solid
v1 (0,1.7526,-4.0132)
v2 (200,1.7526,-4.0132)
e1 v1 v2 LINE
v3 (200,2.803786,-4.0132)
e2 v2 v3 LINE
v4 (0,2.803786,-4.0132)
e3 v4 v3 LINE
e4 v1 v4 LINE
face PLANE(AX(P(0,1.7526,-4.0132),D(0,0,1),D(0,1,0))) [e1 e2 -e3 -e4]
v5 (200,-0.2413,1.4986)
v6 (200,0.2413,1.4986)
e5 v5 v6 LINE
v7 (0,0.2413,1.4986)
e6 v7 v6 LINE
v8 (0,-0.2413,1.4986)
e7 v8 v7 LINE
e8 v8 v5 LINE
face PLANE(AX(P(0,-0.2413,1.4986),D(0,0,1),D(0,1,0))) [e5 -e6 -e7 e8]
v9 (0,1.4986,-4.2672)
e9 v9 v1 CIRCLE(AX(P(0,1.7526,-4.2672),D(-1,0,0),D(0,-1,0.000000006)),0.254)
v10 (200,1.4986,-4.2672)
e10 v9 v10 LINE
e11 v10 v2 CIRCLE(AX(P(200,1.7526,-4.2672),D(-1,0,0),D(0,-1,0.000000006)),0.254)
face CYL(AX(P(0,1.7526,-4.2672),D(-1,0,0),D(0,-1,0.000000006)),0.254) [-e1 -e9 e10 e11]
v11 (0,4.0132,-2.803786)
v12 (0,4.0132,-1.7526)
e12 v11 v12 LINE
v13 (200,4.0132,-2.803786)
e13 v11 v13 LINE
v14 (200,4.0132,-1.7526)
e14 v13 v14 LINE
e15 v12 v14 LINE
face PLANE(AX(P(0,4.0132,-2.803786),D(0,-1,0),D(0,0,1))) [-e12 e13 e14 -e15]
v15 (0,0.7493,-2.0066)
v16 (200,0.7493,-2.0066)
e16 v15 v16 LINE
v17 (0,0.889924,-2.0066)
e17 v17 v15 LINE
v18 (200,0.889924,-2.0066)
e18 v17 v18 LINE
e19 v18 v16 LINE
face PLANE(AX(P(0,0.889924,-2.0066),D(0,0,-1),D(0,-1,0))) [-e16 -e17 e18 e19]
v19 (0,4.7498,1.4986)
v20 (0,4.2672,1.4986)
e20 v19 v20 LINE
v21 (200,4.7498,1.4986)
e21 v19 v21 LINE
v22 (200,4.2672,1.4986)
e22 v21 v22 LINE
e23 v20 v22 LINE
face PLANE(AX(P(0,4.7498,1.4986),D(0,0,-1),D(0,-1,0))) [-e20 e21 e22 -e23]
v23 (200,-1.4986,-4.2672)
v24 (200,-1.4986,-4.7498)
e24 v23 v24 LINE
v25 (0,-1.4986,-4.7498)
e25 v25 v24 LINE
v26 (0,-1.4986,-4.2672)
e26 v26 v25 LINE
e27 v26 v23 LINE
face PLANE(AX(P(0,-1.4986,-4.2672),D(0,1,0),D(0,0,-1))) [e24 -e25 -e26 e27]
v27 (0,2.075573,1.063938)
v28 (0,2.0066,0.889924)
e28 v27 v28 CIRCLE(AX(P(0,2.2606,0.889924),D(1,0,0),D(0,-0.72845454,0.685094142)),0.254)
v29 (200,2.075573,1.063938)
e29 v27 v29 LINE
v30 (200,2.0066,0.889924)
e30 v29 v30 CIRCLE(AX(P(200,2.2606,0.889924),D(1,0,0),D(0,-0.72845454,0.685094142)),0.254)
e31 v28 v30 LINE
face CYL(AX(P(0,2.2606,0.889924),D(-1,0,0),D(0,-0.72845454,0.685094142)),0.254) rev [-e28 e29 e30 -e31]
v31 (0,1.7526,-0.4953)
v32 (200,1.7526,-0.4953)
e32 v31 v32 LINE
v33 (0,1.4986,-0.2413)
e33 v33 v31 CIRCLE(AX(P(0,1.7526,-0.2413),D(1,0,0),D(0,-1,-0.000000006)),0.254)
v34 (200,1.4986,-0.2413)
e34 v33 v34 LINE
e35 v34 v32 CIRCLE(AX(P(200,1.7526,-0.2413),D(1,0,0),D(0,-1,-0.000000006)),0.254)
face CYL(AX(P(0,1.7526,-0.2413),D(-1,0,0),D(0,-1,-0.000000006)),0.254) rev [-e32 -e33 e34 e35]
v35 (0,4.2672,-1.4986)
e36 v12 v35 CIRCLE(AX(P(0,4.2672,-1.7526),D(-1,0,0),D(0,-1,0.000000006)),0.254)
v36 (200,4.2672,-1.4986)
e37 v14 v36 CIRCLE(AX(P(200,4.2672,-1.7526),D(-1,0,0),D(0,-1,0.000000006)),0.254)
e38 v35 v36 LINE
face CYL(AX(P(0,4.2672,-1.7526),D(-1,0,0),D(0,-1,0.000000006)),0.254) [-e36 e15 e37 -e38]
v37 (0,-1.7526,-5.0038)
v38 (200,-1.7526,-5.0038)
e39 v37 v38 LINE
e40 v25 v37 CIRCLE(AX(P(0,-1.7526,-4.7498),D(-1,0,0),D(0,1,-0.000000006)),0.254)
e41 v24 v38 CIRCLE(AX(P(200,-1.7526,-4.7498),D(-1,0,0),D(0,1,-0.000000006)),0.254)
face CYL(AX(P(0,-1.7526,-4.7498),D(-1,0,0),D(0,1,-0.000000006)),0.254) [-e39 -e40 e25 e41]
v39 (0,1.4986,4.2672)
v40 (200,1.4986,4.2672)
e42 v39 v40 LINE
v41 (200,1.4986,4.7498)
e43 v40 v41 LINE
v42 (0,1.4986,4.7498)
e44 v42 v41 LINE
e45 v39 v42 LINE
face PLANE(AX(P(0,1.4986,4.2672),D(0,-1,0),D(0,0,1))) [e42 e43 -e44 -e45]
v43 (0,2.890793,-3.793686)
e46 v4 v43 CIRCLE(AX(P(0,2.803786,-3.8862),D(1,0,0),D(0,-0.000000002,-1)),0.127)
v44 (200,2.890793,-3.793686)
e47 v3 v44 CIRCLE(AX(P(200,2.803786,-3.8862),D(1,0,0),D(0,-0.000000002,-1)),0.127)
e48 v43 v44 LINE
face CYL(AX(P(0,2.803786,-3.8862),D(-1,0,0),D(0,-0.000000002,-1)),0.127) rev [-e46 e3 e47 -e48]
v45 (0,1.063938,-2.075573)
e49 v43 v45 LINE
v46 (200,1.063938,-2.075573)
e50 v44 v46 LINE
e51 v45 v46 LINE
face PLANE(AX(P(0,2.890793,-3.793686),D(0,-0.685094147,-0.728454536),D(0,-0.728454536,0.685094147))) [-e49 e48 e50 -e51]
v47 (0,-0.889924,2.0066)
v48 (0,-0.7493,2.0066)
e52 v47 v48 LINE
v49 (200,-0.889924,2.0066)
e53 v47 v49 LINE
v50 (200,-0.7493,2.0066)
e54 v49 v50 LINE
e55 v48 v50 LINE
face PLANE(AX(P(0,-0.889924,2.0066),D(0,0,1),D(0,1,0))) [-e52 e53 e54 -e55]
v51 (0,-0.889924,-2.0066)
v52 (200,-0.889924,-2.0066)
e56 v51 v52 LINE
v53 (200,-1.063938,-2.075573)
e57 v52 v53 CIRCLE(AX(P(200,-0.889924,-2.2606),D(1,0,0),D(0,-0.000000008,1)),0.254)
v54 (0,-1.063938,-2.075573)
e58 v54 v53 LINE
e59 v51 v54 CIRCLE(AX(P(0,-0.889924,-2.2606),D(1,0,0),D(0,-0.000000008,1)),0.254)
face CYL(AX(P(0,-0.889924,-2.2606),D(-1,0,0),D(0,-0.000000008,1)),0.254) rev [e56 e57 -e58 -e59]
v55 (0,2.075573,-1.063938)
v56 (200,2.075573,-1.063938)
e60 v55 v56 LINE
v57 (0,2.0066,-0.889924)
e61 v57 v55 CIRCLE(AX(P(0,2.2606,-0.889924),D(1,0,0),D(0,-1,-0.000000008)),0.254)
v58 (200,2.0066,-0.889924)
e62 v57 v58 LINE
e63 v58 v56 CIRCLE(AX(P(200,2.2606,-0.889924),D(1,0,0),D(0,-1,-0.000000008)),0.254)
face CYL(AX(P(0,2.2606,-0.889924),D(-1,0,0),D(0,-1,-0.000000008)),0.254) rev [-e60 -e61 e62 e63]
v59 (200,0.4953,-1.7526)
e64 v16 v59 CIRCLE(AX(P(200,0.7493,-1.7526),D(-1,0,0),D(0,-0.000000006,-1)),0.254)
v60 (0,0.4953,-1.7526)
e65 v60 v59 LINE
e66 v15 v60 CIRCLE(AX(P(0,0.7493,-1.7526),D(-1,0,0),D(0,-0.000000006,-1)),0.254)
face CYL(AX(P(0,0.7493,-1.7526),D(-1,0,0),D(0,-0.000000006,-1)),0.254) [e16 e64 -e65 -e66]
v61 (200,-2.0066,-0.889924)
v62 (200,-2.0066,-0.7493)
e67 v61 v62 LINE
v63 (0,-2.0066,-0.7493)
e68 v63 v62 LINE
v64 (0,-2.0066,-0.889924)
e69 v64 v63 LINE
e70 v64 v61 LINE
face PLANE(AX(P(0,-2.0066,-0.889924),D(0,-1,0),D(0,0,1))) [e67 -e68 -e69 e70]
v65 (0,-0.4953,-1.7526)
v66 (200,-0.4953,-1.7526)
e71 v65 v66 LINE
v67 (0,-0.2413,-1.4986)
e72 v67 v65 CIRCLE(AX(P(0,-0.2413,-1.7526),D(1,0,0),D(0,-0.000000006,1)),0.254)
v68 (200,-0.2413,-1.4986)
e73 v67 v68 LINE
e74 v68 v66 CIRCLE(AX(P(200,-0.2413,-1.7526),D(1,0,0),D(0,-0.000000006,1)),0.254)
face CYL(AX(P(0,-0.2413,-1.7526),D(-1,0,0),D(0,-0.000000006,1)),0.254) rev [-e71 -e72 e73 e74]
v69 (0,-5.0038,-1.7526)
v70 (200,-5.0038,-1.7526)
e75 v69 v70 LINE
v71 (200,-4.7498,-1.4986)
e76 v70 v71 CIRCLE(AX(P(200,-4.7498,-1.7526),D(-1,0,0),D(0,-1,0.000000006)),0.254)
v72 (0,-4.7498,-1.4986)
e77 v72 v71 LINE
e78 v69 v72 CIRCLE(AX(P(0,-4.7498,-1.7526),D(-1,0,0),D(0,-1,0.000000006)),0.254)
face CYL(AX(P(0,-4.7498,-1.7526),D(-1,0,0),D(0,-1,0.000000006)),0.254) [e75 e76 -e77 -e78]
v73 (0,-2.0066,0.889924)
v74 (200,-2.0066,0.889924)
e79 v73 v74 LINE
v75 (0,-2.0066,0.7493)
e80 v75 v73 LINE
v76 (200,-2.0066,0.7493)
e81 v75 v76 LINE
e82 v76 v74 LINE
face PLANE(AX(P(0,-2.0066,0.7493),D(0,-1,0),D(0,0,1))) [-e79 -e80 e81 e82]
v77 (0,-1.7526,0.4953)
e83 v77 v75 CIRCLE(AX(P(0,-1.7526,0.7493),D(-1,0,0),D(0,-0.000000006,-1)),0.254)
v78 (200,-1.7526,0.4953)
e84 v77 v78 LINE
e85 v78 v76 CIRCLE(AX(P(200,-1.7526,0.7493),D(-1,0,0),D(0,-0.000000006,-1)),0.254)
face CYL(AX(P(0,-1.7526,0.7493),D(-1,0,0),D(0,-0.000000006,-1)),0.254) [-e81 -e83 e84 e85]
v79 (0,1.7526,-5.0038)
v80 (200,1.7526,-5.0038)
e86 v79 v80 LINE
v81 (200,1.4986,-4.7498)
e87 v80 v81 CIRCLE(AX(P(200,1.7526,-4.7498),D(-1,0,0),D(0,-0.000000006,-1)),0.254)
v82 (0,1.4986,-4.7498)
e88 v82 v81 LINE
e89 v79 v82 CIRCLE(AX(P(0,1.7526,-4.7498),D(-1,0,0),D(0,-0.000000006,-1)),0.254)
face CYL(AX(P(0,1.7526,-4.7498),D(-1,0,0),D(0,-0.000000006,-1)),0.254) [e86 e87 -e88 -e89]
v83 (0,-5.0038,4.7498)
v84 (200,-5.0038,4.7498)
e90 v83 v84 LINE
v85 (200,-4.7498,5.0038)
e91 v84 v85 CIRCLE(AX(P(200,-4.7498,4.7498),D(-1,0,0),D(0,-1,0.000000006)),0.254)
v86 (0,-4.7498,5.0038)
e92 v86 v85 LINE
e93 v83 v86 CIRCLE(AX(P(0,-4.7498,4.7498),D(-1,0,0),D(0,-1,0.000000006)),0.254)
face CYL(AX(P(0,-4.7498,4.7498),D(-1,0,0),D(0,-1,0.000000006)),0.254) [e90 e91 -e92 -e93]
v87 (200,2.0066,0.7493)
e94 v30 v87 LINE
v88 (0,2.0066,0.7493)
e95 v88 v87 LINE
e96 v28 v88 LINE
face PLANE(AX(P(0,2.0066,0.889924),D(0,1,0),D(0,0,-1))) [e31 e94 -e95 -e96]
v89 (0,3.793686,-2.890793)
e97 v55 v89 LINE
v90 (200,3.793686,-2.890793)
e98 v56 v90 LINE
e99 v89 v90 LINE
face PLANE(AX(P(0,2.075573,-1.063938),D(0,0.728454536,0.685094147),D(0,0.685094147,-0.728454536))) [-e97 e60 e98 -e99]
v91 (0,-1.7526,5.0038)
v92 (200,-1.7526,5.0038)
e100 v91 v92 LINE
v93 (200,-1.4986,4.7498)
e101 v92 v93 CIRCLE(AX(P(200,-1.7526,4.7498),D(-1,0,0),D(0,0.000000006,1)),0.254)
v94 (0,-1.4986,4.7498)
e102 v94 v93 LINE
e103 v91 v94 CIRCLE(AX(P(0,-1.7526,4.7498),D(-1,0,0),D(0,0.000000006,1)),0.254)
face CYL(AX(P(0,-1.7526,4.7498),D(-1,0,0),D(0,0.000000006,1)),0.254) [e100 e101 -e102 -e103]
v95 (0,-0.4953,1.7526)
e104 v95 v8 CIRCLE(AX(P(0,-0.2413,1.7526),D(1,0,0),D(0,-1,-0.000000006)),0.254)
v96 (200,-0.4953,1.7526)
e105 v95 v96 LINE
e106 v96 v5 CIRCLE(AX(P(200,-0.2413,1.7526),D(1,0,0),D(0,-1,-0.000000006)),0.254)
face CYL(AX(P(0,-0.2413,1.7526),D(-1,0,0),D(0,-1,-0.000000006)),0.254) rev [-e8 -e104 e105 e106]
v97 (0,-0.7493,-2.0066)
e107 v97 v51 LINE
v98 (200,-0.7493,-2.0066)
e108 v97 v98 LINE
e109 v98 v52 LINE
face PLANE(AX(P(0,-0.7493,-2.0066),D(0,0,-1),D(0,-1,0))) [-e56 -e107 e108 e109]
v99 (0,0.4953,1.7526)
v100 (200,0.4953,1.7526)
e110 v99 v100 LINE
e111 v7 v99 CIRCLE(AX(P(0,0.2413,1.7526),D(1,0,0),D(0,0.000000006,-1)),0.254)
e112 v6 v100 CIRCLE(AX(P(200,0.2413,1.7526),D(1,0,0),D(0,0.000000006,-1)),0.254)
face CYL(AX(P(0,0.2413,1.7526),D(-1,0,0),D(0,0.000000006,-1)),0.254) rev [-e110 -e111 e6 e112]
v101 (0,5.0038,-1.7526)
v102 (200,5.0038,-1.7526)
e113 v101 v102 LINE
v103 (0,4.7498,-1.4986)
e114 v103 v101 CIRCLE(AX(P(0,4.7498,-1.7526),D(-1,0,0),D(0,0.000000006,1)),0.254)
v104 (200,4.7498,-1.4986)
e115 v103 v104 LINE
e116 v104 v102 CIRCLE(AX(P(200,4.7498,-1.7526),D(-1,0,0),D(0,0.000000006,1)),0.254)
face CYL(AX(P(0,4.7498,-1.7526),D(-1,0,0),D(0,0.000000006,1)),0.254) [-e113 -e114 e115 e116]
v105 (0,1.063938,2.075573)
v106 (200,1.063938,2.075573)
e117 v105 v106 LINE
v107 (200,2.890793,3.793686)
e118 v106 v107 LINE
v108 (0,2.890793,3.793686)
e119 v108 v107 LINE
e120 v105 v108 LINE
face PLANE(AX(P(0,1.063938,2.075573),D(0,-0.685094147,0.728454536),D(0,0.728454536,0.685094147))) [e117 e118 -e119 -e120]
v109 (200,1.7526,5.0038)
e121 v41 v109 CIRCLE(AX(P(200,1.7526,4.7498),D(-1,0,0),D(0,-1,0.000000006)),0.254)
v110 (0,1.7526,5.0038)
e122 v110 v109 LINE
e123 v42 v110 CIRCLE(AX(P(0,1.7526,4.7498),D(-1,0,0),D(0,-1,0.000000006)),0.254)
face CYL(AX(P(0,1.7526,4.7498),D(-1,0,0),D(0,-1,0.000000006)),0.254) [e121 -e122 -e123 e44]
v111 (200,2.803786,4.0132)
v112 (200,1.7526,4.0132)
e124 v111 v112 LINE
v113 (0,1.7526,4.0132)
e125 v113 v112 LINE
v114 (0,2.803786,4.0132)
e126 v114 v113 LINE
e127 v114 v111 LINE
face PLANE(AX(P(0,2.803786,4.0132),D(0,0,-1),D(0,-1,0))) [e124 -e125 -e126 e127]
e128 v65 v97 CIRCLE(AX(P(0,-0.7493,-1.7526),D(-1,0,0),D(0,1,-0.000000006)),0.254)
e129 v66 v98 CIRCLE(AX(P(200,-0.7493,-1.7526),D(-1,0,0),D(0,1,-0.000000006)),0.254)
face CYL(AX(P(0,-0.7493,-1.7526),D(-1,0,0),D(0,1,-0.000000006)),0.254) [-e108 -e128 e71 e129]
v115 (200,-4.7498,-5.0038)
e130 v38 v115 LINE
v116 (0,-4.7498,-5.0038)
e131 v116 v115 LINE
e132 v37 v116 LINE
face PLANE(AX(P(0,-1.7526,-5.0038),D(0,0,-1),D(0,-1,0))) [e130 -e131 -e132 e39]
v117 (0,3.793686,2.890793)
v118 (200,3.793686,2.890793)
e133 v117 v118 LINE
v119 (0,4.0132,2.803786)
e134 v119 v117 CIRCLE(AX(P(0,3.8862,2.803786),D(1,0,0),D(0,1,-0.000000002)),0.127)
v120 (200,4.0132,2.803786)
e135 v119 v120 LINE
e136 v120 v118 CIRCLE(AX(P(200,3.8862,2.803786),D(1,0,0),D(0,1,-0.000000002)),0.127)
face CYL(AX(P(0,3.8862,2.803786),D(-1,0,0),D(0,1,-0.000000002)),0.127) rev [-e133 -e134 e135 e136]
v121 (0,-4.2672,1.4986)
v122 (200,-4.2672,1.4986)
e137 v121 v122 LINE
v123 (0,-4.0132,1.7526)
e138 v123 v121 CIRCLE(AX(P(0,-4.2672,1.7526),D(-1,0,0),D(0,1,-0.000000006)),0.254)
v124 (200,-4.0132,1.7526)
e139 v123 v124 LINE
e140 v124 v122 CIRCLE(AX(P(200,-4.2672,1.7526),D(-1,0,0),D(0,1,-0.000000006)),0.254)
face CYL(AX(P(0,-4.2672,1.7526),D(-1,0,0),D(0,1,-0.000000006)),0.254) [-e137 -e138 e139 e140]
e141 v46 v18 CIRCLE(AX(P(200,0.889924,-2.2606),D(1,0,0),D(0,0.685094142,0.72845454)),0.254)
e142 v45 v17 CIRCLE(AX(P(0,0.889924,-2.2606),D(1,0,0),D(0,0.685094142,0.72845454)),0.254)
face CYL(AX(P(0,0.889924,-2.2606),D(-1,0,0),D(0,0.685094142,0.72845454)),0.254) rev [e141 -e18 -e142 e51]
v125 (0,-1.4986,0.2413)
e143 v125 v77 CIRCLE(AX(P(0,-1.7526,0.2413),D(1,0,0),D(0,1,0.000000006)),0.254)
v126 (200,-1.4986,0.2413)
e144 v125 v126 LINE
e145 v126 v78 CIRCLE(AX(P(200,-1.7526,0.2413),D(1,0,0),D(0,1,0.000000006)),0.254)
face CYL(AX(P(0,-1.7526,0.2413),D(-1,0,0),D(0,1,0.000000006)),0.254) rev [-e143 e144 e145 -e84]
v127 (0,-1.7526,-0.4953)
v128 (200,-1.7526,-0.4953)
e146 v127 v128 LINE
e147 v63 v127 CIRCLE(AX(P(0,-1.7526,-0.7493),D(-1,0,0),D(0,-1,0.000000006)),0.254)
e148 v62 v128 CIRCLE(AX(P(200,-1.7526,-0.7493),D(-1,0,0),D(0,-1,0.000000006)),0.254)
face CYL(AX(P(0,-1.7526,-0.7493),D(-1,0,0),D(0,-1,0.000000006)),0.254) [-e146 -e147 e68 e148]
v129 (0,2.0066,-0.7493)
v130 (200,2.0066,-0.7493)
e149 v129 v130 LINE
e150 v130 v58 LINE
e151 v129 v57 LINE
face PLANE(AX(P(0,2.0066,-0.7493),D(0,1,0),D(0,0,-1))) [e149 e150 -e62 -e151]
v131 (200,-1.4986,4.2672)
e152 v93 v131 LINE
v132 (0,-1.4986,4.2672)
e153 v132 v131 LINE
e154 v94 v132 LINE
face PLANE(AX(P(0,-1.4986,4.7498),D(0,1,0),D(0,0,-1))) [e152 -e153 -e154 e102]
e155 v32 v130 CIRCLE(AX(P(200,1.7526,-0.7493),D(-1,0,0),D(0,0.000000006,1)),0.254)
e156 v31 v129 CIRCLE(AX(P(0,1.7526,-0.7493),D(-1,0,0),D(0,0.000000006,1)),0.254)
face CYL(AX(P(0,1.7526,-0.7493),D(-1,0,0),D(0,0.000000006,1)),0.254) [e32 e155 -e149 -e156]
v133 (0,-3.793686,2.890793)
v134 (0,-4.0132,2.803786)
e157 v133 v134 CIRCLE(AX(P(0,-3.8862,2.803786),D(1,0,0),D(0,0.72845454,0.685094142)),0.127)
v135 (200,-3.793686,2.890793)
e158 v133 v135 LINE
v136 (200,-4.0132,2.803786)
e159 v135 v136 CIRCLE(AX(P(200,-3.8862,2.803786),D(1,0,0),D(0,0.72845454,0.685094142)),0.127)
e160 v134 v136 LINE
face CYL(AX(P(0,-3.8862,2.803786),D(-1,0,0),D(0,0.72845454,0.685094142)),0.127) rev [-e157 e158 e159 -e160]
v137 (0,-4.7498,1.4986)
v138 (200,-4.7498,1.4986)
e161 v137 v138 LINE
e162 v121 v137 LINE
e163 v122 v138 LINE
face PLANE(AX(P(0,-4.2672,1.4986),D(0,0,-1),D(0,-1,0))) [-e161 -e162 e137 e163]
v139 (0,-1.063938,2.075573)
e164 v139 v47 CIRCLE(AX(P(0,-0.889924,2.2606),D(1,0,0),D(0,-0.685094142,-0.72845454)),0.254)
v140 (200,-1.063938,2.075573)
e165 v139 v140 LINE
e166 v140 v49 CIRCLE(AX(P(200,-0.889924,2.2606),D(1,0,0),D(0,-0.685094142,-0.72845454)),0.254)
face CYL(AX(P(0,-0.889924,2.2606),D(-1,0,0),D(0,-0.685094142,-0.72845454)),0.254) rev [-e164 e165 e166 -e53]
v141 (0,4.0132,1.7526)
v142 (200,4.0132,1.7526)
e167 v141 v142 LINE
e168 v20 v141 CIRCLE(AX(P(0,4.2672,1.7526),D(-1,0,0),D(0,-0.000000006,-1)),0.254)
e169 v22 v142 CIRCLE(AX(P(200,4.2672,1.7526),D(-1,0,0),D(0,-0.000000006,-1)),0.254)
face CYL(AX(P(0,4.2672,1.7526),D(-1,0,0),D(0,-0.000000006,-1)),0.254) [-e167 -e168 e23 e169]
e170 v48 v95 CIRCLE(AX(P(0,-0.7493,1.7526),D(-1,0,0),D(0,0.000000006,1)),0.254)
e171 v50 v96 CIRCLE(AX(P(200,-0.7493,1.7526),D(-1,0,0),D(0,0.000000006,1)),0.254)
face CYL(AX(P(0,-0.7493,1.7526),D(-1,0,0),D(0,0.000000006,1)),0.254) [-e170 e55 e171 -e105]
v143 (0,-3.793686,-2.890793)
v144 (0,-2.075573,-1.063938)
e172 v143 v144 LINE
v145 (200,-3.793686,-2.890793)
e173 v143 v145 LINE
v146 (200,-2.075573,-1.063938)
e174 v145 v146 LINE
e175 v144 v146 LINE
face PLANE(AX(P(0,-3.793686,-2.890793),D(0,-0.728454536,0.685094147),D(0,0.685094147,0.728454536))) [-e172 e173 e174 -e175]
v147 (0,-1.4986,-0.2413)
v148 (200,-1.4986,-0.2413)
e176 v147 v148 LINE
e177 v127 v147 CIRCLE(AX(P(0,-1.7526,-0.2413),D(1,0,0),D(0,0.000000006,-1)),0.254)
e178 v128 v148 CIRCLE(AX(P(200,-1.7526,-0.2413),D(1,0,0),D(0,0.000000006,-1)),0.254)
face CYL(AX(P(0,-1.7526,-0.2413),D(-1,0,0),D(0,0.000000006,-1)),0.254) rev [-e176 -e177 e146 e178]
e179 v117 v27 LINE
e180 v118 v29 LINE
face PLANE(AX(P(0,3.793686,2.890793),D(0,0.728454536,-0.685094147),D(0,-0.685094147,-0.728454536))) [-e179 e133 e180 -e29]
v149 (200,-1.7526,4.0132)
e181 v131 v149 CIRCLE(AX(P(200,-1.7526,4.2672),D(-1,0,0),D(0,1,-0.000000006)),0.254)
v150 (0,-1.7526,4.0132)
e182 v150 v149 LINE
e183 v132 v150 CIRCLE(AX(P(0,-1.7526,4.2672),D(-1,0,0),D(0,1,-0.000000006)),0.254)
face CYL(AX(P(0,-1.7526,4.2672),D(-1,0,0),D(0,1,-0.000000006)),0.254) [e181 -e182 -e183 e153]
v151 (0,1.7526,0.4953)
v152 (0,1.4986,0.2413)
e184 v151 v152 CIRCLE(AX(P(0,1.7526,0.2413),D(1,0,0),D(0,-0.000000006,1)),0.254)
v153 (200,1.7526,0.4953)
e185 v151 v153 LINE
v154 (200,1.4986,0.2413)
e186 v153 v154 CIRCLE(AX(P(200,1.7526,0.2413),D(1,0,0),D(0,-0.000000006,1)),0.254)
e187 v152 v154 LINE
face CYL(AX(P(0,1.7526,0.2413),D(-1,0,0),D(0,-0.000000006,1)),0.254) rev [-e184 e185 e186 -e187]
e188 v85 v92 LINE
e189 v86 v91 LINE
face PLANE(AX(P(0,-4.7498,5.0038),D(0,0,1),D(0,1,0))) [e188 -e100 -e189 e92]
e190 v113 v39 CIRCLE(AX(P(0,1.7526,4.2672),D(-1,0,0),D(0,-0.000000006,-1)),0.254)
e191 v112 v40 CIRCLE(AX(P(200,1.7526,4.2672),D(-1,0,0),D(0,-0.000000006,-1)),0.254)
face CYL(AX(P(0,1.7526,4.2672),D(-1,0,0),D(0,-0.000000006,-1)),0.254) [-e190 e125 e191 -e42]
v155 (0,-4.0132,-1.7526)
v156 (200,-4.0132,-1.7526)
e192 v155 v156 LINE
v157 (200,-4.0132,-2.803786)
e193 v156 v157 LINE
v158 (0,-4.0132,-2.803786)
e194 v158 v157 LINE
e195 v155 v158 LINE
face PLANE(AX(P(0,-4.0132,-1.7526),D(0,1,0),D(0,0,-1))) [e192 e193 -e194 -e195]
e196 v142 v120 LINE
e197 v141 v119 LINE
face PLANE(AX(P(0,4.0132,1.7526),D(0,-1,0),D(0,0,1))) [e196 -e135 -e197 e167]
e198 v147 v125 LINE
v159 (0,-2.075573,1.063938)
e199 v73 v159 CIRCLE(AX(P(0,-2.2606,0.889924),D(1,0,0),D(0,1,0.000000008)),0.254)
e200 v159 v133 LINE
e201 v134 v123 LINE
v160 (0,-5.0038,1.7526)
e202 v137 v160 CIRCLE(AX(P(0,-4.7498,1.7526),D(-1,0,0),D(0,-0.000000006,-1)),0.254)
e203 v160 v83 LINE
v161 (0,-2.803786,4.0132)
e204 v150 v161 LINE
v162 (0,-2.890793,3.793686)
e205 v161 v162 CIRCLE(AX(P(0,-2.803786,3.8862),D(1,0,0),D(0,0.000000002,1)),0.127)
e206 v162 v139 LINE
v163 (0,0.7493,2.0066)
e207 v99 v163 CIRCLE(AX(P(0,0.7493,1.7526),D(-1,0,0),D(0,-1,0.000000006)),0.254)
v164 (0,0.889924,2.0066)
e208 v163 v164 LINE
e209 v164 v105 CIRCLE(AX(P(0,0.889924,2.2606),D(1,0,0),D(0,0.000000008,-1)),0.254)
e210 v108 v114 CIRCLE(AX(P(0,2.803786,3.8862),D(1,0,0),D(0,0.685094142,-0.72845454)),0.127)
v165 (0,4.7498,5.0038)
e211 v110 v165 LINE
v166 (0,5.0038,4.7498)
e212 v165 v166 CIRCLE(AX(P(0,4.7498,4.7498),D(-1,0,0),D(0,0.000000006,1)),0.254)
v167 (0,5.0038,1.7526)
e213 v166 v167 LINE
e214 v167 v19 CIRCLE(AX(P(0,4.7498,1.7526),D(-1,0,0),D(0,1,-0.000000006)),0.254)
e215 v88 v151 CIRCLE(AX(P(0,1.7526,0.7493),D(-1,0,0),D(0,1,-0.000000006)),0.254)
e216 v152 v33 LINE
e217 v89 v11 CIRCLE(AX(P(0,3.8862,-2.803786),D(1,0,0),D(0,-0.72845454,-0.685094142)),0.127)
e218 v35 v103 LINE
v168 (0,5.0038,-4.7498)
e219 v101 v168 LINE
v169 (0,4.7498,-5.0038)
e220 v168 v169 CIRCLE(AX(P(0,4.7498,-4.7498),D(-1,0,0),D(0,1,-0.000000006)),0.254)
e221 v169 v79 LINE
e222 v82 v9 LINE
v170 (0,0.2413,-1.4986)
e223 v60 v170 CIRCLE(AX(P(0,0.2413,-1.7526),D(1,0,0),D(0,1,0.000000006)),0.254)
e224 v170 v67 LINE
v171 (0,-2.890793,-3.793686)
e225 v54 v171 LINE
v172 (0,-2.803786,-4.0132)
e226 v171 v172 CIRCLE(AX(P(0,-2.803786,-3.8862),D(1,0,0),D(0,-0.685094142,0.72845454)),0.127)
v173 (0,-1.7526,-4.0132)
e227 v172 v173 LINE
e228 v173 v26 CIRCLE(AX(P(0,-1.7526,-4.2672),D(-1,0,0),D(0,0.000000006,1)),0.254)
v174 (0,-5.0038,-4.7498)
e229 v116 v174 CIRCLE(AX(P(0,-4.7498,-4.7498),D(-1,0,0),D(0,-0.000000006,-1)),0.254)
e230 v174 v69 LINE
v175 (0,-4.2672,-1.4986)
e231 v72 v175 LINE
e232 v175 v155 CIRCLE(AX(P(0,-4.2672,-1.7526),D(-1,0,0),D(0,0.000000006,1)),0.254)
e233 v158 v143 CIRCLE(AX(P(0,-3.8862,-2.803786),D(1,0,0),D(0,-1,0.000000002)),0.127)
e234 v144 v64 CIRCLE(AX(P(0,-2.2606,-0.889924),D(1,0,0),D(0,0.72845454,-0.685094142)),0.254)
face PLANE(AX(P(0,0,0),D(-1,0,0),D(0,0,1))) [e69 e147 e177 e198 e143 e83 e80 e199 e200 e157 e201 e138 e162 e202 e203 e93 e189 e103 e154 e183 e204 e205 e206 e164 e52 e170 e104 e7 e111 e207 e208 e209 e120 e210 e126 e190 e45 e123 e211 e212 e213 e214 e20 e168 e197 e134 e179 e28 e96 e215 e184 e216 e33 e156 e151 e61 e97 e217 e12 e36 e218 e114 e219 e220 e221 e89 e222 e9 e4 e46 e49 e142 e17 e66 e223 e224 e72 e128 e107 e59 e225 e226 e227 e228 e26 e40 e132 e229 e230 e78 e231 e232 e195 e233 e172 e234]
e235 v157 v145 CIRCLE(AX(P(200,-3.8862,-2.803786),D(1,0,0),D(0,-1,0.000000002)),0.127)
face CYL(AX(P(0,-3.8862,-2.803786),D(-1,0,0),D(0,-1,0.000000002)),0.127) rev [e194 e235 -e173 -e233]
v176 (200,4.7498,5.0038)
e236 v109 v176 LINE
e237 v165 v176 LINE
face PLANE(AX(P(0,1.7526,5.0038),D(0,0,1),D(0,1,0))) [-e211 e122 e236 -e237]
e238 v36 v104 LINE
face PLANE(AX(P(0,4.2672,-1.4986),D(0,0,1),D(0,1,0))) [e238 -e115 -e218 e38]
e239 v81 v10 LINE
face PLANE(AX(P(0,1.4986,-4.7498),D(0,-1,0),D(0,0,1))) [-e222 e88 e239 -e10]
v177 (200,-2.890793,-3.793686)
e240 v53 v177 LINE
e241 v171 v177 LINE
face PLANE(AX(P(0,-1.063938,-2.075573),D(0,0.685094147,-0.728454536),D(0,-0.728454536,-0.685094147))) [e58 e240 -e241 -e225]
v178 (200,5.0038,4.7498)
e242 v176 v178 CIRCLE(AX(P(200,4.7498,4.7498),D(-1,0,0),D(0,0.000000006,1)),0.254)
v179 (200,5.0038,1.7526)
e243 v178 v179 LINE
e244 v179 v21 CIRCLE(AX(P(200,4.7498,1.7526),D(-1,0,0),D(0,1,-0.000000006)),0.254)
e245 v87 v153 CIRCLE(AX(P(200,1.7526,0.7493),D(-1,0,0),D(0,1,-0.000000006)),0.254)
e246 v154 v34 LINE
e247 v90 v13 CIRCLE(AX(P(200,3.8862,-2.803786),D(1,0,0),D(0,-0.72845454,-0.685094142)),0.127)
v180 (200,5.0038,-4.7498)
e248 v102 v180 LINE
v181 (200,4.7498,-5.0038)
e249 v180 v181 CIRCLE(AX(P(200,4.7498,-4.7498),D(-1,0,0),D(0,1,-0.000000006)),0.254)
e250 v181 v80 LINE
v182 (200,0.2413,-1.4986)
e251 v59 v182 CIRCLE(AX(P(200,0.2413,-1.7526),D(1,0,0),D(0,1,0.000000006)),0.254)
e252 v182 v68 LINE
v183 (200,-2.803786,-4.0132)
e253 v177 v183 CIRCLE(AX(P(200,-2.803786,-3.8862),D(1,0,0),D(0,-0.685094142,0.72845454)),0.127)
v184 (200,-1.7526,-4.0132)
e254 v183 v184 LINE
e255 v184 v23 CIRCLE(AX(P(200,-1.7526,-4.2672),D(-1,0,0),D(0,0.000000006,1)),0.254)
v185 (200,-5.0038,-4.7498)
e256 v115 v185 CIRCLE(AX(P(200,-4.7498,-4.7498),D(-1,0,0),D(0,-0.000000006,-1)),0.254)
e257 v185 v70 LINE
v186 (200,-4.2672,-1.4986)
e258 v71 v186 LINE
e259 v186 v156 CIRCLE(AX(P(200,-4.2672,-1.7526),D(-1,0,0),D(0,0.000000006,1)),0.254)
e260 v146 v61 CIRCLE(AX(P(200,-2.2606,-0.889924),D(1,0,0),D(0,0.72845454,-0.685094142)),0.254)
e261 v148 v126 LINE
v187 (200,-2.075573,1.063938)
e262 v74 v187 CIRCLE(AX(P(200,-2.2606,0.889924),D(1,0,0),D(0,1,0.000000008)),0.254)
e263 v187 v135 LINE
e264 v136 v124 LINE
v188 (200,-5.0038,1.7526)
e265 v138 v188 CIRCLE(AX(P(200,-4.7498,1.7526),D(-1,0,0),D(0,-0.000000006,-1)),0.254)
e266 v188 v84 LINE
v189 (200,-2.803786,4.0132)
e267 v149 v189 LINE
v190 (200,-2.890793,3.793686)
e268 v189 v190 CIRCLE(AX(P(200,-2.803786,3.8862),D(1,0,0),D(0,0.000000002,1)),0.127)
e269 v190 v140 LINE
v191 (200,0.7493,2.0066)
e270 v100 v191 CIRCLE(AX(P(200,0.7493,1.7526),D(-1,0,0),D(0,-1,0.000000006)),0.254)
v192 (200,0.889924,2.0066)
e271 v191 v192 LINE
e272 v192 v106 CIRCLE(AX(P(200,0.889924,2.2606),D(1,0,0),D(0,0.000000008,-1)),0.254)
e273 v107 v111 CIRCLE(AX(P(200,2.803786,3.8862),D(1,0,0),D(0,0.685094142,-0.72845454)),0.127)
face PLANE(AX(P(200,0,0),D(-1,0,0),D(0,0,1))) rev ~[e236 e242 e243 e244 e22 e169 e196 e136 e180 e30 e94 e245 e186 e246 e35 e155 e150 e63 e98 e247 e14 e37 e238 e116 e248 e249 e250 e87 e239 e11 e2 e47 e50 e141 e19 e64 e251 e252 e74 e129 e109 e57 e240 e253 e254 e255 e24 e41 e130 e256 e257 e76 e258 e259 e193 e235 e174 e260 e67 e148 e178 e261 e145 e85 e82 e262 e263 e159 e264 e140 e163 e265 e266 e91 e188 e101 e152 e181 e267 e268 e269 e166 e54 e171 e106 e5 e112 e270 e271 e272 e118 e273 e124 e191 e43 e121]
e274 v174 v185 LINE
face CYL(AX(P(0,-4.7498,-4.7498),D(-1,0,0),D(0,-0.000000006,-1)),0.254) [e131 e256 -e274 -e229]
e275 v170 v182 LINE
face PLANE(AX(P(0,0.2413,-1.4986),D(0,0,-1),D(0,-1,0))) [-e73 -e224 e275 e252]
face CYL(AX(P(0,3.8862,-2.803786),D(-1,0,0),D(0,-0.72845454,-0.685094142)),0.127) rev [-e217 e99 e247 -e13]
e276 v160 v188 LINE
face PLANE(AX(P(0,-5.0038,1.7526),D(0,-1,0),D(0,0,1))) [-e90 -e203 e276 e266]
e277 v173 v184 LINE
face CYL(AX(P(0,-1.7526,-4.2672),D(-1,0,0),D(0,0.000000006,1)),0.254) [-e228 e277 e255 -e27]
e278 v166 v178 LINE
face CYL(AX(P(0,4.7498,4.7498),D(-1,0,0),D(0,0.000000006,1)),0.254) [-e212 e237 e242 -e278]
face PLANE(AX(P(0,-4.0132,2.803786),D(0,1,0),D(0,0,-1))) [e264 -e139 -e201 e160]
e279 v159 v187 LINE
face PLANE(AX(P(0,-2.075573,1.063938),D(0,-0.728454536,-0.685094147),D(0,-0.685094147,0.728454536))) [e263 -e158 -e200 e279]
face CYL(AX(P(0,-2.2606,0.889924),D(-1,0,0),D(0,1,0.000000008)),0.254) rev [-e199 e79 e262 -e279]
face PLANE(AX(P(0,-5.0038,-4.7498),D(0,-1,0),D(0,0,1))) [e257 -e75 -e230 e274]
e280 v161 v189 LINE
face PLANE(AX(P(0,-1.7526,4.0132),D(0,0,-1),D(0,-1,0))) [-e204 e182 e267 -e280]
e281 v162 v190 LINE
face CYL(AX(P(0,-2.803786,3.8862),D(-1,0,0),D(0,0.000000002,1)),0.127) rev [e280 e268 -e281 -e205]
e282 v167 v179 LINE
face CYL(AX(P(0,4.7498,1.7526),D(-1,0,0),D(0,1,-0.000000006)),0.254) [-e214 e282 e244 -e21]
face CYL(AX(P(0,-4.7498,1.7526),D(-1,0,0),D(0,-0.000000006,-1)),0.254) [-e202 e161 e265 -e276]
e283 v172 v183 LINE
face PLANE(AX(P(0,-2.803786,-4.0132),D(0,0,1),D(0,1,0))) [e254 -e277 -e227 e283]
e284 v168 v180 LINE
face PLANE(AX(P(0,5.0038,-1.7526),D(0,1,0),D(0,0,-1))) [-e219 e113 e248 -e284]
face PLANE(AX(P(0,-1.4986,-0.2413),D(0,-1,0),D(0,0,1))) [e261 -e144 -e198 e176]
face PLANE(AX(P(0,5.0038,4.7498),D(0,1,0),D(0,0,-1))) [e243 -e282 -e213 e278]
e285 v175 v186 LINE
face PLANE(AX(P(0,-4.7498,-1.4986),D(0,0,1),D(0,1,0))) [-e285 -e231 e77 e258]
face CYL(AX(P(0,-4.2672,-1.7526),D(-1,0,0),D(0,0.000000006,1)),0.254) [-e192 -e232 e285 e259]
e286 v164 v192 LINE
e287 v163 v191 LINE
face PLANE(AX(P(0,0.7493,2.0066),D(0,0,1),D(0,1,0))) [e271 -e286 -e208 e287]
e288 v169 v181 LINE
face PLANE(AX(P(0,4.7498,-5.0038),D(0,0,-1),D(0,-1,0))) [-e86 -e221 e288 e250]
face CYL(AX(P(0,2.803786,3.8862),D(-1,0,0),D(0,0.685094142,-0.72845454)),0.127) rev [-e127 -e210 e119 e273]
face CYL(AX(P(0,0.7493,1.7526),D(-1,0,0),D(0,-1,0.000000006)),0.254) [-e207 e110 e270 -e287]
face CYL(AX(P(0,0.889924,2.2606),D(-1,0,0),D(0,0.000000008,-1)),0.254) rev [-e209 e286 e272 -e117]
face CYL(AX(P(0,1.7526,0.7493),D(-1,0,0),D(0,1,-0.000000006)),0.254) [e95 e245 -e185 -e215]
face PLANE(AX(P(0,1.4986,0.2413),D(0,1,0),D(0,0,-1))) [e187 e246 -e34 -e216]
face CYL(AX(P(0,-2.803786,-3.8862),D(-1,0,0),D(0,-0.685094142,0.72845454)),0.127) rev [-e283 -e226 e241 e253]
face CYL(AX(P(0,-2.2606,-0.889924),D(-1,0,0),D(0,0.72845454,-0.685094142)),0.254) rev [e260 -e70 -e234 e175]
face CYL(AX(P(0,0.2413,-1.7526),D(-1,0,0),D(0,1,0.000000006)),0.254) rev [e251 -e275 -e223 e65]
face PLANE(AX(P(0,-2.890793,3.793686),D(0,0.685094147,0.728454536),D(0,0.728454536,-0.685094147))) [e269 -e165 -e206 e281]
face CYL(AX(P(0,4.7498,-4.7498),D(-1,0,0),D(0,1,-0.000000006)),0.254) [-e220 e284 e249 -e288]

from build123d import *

# Parameters (mm, degrees)
BOSS_EXTRU_1_DEPTH = 200


with BuildPart() as part:
    # Sketch1 → Boss.-Extru.1 (new body)
    with BuildSketch(Plane(origin=(0, 0, 0), x_dir=(0, 0, -1), z_dir=(1, 0, 0))):
        with BuildLine():
            Line((-0.2413, 1.4986), (0.2413, 1.4986))
            ThreePointArc((0.2413, 1.4986), (0.420905122, 1.572994878), (0.4953, 1.7526))
            ThreePointArc((0.4953, 1.7526), (0.569694878, 1.932205122), (0.7493, 2.0066))
            Line((0.7493, 2.0066), (0.889923986, 2.0066))
            ThreePointArc((0.889923986, 2.0066), (0.983516259, 2.024471886), (1.063937899, 2.075572548))
            Line((1.063937899, 2.075572548), (2.890793, 3.793686274))
            ThreePointArc((2.890793, 3.793686274), (2.921850101, 3.932996137), (2.803786044, 4.0132))
            Line((2.803786044, 4.0132), (1.7526, 4.0132))
            ThreePointArc((1.7526, 4.0132), (1.572994878, 4.087594878), (1.4986, 4.2672))
            Line((1.4986, 4.2672), (1.4986, 4.7498))
            ThreePointArc((1.4986, 4.7498), (1.572994878, 4.929405122), (1.7526, 5.0038))
            Line((1.7526, 5.0038), (4.7498, 5.0038))
            ThreePointArc((4.7498, 5.0038), (4.929405122, 4.929405122), (5.0038, 4.7498))
            Line((5.0038, 4.7498), (5.0038, 1.7526))
            ThreePointArc((5.0038, 1.7526), (4.929405122, 1.572994878), (4.7498, 1.4986))
            Line((4.7498, 1.4986), (4.2672, 1.4986))
            ThreePointArc((4.2672, 1.4986), (4.087594878, 1.572994878), (4.0132, 1.7526))
            Line((4.0132, 1.7526), (4.0132, 2.803786044))
            ThreePointArc((4.0132, 2.803786044), (3.932996137, 2.921850101), (3.793686274, 2.890793))
            Line((3.793686274, 2.890793), (2.075572548, 1.063937899))
            ThreePointArc((2.075572548, 1.063937899), (2.024471886, 0.983516259), (2.0066, 0.889923986))
            Line((2.0066, 0.889923986), (2.0066, 0.7493))
            ThreePointArc((2.0066, 0.7493), (1.932205122, 0.569694878), (1.7526, 0.4953))
            ThreePointArc((1.7526, 0.4953), (1.572994878, 0.420905122), (1.4986, 0.2413))
            Line((1.4986, 0.2413), (1.4986, -0.2413))
            ThreePointArc((1.4986, -0.2413), (1.572994878, -0.420905122), (1.7526, -0.4953))
            ThreePointArc((1.7526, -0.4953), (1.932205122, -0.569694878), (2.0066, -0.7493))
            Line((2.0066, -0.7493), (2.0066, -0.889923986))
            ThreePointArc((2.0066, -0.889923986), (2.024471886, -0.983516259), (2.075572548, -1.063937899))
            Line((2.075572548, -1.063937899), (3.793686274, -2.890793))
            ThreePointArc((3.793686274, -2.890793), (3.932996137, -2.921850101), (4.0132, -2.803786044))
            Line((4.0132, -2.803786044), (4.0132, -1.7526))
            ThreePointArc((4.0132, -1.7526), (4.087594878, -1.572994878), (4.2672, -1.4986))
            Line((4.2672, -1.4986), (4.7498, -1.4986))
            ThreePointArc((4.7498, -1.4986), (4.929405122, -1.572994878), (5.0038, -1.7526))
            Line((5.0038, -1.7526), (5.0038, -4.7498))
            ThreePointArc((5.0038, -4.7498), (4.929405122, -4.929405122), (4.7498, -5.0038))
            Line((4.7498, -5.0038), (1.7526, -5.0038))
            ThreePointArc((1.7526, -5.0038), (1.572994878, -4.929405122), (1.4986, -4.7498))
            Line((1.4986, -4.7498), (1.4986, -4.2672))
            ThreePointArc((1.4986, -4.2672), (1.572994878, -4.087594878), (1.7526, -4.0132))
            Line((1.7526, -4.0132), (2.803786044, -4.0132))
            ThreePointArc((2.803786044, -4.0132), (2.921850101, -3.932996137), (2.890793, -3.793686274))
            Line((2.890793, -3.793686274), (1.063937899, -2.075572548))
            ThreePointArc((1.063937899, -2.075572548), (0.983516259, -2.024471886), (0.889923986, -2.0066))
            Line((0.889923986, -2.0066), (0.7493, -2.0066))
            ThreePointArc((0.7493, -2.0066), (0.569694878, -1.932205122), (0.4953, -1.7526))
            ThreePointArc((0.4953, -1.7526), (0.420905122, -1.572994878), (0.2413, -1.4986))
            Line((0.2413, -1.4986), (-0.2413, -1.4986))
            ThreePointArc((-0.2413, -1.4986), (-0.420905122, -1.572994878), (-0.4953, -1.7526))
            ThreePointArc((-0.4953, -1.7526), (-0.569694878, -1.932205122), (-0.7493, -2.0066))
            Line((-0.7493, -2.0066), (-0.889923986, -2.0066))
            ThreePointArc((-0.889923986, -2.0066), (-0.983516259, -2.024471886), (-1.063937899, -2.075572548))
            Line((-1.063937899, -2.075572548), (-2.890793, -3.793686274))
            ThreePointArc((-2.890793, -3.793686274), (-2.921850101, -3.932996137), (-2.803786044, -4.0132))
            Line((-2.803786044, -4.0132), (-1.7526, -4.0132))
            ThreePointArc((-1.7526, -4.0132), (-1.572994878, -4.087594878), (-1.4986, -4.2672))
            Line((-1.4986, -4.2672), (-1.4986, -4.7498))
            ThreePointArc((-1.4986, -4.7498), (-1.572994878, -4.929405122), (-1.7526, -5.0038))
            Line((-1.7526, -5.0038), (-4.7498, -5.0038))
            ThreePointArc((-4.7498, -5.0038), (-4.929405122, -4.929405122), (-5.0038, -4.7498))
            Line((-5.0038, -4.7498), (-5.0038, -1.7526))
            ThreePointArc((-5.0038, -1.7526), (-4.929405122, -1.572994878), (-4.7498, -1.4986))
            Line((-4.7498, -1.4986), (-4.2672, -1.4986))
            ThreePointArc((-4.2672, -1.4986), (-4.087594878, -1.572994878), (-4.0132, -1.7526))
            Line((-4.0132, -1.7526), (-4.0132, -2.803786044))
            ThreePointArc((-4.0132, -2.803786044), (-3.932996137, -2.921850101), (-3.793686274, -2.890793))
            Line((-3.793686274, -2.890793), (-2.075572548, -1.063937899))
            ThreePointArc((-2.075572548, -1.063937899), (-2.024471886, -0.983516259), (-2.0066, -0.889923986))
            Line((-2.0066, -0.889923986), (-2.0066, -0.7493))
            ThreePointArc((-2.0066, -0.7493), (-1.932205122, -0.569694878), (-1.7526, -0.4953))
            ThreePointArc((-1.7526, -0.4953), (-1.572994878, -0.420905122), (-1.4986, -0.2413))
            Line((-1.4986, -0.2413), (-1.4986, 0.2413))
            ThreePointArc((-1.4986, 0.2413), (-1.572994878, 0.420905122), (-1.7526, 0.4953))
            ThreePointArc((-1.7526, 0.4953), (-1.932205122, 0.569694878), (-2.0066, 0.7493))
            Line((-2.0066, 0.7493), (-2.0066, 0.889923986))
            ThreePointArc((-2.0066, 0.889923986), (-2.024471886, 0.983516259), (-2.075572548, 1.063937899))
            Line((-2.075572548, 1.063937899), (-3.793686274, 2.890793))
            ThreePointArc((-3.793686274, 2.890793), (-3.932996137, 2.921850101), (-4.0132, 2.803786044))
            Line((-4.0132, 2.803786044), (-4.0132, 1.7526))
            ThreePointArc((-4.0132, 1.7526), (-4.087594878, 1.572994878), (-4.2672, 1.4986))
            Line((-4.2672, 1.4986), (-4.7498, 1.4986))
            ThreePointArc((-4.7498, 1.4986), (-4.929405122, 1.572994878), (-5.0038, 1.7526))
            Line((-5.0038, 1.7526), (-5.0038, 4.7498))
            ThreePointArc((-5.0038, 4.7498), (-4.929405122, 4.929405122), (-4.7498, 5.0038))
            Line((-4.7498, 5.0038), (-1.7526, 5.0038))
            ThreePointArc((-1.7526, 5.0038), (-1.572994878, 4.929405122), (-1.4986, 4.7498))
            Line((-1.4986, 4.7498), (-1.4986, 4.2672))
            ThreePointArc((-1.4986, 4.2672), (-1.572994878, 4.087594878), (-1.7526, 4.0132))
            Line((-1.7526, 4.0132), (-2.803786044, 4.0132))
            ThreePointArc((-2.803786044, 4.0132), (-2.921850101, 3.932996137), (-2.890793, 3.793686274))
            Line((-2.890793, 3.793686274), (-1.063937899, 2.075572548))
            ThreePointArc((-1.063937899, 2.075572548), (-0.983516259, 2.024471886), (-0.889923986, 2.0066))
            Line((-0.889923986, 2.0066), (-0.7493, 2.0066))
            ThreePointArc((-0.7493, 2.0066), (-0.569694878, 1.932205122), (-0.4953, 1.7526))
            ThreePointArc((-0.4953, 1.7526), (-0.420905122, 1.572994878), (-0.2413, 1.4986))
        make_face()
    extrude(amount=BOSS_EXTRU_1_DEPTH)


solid = part.part
